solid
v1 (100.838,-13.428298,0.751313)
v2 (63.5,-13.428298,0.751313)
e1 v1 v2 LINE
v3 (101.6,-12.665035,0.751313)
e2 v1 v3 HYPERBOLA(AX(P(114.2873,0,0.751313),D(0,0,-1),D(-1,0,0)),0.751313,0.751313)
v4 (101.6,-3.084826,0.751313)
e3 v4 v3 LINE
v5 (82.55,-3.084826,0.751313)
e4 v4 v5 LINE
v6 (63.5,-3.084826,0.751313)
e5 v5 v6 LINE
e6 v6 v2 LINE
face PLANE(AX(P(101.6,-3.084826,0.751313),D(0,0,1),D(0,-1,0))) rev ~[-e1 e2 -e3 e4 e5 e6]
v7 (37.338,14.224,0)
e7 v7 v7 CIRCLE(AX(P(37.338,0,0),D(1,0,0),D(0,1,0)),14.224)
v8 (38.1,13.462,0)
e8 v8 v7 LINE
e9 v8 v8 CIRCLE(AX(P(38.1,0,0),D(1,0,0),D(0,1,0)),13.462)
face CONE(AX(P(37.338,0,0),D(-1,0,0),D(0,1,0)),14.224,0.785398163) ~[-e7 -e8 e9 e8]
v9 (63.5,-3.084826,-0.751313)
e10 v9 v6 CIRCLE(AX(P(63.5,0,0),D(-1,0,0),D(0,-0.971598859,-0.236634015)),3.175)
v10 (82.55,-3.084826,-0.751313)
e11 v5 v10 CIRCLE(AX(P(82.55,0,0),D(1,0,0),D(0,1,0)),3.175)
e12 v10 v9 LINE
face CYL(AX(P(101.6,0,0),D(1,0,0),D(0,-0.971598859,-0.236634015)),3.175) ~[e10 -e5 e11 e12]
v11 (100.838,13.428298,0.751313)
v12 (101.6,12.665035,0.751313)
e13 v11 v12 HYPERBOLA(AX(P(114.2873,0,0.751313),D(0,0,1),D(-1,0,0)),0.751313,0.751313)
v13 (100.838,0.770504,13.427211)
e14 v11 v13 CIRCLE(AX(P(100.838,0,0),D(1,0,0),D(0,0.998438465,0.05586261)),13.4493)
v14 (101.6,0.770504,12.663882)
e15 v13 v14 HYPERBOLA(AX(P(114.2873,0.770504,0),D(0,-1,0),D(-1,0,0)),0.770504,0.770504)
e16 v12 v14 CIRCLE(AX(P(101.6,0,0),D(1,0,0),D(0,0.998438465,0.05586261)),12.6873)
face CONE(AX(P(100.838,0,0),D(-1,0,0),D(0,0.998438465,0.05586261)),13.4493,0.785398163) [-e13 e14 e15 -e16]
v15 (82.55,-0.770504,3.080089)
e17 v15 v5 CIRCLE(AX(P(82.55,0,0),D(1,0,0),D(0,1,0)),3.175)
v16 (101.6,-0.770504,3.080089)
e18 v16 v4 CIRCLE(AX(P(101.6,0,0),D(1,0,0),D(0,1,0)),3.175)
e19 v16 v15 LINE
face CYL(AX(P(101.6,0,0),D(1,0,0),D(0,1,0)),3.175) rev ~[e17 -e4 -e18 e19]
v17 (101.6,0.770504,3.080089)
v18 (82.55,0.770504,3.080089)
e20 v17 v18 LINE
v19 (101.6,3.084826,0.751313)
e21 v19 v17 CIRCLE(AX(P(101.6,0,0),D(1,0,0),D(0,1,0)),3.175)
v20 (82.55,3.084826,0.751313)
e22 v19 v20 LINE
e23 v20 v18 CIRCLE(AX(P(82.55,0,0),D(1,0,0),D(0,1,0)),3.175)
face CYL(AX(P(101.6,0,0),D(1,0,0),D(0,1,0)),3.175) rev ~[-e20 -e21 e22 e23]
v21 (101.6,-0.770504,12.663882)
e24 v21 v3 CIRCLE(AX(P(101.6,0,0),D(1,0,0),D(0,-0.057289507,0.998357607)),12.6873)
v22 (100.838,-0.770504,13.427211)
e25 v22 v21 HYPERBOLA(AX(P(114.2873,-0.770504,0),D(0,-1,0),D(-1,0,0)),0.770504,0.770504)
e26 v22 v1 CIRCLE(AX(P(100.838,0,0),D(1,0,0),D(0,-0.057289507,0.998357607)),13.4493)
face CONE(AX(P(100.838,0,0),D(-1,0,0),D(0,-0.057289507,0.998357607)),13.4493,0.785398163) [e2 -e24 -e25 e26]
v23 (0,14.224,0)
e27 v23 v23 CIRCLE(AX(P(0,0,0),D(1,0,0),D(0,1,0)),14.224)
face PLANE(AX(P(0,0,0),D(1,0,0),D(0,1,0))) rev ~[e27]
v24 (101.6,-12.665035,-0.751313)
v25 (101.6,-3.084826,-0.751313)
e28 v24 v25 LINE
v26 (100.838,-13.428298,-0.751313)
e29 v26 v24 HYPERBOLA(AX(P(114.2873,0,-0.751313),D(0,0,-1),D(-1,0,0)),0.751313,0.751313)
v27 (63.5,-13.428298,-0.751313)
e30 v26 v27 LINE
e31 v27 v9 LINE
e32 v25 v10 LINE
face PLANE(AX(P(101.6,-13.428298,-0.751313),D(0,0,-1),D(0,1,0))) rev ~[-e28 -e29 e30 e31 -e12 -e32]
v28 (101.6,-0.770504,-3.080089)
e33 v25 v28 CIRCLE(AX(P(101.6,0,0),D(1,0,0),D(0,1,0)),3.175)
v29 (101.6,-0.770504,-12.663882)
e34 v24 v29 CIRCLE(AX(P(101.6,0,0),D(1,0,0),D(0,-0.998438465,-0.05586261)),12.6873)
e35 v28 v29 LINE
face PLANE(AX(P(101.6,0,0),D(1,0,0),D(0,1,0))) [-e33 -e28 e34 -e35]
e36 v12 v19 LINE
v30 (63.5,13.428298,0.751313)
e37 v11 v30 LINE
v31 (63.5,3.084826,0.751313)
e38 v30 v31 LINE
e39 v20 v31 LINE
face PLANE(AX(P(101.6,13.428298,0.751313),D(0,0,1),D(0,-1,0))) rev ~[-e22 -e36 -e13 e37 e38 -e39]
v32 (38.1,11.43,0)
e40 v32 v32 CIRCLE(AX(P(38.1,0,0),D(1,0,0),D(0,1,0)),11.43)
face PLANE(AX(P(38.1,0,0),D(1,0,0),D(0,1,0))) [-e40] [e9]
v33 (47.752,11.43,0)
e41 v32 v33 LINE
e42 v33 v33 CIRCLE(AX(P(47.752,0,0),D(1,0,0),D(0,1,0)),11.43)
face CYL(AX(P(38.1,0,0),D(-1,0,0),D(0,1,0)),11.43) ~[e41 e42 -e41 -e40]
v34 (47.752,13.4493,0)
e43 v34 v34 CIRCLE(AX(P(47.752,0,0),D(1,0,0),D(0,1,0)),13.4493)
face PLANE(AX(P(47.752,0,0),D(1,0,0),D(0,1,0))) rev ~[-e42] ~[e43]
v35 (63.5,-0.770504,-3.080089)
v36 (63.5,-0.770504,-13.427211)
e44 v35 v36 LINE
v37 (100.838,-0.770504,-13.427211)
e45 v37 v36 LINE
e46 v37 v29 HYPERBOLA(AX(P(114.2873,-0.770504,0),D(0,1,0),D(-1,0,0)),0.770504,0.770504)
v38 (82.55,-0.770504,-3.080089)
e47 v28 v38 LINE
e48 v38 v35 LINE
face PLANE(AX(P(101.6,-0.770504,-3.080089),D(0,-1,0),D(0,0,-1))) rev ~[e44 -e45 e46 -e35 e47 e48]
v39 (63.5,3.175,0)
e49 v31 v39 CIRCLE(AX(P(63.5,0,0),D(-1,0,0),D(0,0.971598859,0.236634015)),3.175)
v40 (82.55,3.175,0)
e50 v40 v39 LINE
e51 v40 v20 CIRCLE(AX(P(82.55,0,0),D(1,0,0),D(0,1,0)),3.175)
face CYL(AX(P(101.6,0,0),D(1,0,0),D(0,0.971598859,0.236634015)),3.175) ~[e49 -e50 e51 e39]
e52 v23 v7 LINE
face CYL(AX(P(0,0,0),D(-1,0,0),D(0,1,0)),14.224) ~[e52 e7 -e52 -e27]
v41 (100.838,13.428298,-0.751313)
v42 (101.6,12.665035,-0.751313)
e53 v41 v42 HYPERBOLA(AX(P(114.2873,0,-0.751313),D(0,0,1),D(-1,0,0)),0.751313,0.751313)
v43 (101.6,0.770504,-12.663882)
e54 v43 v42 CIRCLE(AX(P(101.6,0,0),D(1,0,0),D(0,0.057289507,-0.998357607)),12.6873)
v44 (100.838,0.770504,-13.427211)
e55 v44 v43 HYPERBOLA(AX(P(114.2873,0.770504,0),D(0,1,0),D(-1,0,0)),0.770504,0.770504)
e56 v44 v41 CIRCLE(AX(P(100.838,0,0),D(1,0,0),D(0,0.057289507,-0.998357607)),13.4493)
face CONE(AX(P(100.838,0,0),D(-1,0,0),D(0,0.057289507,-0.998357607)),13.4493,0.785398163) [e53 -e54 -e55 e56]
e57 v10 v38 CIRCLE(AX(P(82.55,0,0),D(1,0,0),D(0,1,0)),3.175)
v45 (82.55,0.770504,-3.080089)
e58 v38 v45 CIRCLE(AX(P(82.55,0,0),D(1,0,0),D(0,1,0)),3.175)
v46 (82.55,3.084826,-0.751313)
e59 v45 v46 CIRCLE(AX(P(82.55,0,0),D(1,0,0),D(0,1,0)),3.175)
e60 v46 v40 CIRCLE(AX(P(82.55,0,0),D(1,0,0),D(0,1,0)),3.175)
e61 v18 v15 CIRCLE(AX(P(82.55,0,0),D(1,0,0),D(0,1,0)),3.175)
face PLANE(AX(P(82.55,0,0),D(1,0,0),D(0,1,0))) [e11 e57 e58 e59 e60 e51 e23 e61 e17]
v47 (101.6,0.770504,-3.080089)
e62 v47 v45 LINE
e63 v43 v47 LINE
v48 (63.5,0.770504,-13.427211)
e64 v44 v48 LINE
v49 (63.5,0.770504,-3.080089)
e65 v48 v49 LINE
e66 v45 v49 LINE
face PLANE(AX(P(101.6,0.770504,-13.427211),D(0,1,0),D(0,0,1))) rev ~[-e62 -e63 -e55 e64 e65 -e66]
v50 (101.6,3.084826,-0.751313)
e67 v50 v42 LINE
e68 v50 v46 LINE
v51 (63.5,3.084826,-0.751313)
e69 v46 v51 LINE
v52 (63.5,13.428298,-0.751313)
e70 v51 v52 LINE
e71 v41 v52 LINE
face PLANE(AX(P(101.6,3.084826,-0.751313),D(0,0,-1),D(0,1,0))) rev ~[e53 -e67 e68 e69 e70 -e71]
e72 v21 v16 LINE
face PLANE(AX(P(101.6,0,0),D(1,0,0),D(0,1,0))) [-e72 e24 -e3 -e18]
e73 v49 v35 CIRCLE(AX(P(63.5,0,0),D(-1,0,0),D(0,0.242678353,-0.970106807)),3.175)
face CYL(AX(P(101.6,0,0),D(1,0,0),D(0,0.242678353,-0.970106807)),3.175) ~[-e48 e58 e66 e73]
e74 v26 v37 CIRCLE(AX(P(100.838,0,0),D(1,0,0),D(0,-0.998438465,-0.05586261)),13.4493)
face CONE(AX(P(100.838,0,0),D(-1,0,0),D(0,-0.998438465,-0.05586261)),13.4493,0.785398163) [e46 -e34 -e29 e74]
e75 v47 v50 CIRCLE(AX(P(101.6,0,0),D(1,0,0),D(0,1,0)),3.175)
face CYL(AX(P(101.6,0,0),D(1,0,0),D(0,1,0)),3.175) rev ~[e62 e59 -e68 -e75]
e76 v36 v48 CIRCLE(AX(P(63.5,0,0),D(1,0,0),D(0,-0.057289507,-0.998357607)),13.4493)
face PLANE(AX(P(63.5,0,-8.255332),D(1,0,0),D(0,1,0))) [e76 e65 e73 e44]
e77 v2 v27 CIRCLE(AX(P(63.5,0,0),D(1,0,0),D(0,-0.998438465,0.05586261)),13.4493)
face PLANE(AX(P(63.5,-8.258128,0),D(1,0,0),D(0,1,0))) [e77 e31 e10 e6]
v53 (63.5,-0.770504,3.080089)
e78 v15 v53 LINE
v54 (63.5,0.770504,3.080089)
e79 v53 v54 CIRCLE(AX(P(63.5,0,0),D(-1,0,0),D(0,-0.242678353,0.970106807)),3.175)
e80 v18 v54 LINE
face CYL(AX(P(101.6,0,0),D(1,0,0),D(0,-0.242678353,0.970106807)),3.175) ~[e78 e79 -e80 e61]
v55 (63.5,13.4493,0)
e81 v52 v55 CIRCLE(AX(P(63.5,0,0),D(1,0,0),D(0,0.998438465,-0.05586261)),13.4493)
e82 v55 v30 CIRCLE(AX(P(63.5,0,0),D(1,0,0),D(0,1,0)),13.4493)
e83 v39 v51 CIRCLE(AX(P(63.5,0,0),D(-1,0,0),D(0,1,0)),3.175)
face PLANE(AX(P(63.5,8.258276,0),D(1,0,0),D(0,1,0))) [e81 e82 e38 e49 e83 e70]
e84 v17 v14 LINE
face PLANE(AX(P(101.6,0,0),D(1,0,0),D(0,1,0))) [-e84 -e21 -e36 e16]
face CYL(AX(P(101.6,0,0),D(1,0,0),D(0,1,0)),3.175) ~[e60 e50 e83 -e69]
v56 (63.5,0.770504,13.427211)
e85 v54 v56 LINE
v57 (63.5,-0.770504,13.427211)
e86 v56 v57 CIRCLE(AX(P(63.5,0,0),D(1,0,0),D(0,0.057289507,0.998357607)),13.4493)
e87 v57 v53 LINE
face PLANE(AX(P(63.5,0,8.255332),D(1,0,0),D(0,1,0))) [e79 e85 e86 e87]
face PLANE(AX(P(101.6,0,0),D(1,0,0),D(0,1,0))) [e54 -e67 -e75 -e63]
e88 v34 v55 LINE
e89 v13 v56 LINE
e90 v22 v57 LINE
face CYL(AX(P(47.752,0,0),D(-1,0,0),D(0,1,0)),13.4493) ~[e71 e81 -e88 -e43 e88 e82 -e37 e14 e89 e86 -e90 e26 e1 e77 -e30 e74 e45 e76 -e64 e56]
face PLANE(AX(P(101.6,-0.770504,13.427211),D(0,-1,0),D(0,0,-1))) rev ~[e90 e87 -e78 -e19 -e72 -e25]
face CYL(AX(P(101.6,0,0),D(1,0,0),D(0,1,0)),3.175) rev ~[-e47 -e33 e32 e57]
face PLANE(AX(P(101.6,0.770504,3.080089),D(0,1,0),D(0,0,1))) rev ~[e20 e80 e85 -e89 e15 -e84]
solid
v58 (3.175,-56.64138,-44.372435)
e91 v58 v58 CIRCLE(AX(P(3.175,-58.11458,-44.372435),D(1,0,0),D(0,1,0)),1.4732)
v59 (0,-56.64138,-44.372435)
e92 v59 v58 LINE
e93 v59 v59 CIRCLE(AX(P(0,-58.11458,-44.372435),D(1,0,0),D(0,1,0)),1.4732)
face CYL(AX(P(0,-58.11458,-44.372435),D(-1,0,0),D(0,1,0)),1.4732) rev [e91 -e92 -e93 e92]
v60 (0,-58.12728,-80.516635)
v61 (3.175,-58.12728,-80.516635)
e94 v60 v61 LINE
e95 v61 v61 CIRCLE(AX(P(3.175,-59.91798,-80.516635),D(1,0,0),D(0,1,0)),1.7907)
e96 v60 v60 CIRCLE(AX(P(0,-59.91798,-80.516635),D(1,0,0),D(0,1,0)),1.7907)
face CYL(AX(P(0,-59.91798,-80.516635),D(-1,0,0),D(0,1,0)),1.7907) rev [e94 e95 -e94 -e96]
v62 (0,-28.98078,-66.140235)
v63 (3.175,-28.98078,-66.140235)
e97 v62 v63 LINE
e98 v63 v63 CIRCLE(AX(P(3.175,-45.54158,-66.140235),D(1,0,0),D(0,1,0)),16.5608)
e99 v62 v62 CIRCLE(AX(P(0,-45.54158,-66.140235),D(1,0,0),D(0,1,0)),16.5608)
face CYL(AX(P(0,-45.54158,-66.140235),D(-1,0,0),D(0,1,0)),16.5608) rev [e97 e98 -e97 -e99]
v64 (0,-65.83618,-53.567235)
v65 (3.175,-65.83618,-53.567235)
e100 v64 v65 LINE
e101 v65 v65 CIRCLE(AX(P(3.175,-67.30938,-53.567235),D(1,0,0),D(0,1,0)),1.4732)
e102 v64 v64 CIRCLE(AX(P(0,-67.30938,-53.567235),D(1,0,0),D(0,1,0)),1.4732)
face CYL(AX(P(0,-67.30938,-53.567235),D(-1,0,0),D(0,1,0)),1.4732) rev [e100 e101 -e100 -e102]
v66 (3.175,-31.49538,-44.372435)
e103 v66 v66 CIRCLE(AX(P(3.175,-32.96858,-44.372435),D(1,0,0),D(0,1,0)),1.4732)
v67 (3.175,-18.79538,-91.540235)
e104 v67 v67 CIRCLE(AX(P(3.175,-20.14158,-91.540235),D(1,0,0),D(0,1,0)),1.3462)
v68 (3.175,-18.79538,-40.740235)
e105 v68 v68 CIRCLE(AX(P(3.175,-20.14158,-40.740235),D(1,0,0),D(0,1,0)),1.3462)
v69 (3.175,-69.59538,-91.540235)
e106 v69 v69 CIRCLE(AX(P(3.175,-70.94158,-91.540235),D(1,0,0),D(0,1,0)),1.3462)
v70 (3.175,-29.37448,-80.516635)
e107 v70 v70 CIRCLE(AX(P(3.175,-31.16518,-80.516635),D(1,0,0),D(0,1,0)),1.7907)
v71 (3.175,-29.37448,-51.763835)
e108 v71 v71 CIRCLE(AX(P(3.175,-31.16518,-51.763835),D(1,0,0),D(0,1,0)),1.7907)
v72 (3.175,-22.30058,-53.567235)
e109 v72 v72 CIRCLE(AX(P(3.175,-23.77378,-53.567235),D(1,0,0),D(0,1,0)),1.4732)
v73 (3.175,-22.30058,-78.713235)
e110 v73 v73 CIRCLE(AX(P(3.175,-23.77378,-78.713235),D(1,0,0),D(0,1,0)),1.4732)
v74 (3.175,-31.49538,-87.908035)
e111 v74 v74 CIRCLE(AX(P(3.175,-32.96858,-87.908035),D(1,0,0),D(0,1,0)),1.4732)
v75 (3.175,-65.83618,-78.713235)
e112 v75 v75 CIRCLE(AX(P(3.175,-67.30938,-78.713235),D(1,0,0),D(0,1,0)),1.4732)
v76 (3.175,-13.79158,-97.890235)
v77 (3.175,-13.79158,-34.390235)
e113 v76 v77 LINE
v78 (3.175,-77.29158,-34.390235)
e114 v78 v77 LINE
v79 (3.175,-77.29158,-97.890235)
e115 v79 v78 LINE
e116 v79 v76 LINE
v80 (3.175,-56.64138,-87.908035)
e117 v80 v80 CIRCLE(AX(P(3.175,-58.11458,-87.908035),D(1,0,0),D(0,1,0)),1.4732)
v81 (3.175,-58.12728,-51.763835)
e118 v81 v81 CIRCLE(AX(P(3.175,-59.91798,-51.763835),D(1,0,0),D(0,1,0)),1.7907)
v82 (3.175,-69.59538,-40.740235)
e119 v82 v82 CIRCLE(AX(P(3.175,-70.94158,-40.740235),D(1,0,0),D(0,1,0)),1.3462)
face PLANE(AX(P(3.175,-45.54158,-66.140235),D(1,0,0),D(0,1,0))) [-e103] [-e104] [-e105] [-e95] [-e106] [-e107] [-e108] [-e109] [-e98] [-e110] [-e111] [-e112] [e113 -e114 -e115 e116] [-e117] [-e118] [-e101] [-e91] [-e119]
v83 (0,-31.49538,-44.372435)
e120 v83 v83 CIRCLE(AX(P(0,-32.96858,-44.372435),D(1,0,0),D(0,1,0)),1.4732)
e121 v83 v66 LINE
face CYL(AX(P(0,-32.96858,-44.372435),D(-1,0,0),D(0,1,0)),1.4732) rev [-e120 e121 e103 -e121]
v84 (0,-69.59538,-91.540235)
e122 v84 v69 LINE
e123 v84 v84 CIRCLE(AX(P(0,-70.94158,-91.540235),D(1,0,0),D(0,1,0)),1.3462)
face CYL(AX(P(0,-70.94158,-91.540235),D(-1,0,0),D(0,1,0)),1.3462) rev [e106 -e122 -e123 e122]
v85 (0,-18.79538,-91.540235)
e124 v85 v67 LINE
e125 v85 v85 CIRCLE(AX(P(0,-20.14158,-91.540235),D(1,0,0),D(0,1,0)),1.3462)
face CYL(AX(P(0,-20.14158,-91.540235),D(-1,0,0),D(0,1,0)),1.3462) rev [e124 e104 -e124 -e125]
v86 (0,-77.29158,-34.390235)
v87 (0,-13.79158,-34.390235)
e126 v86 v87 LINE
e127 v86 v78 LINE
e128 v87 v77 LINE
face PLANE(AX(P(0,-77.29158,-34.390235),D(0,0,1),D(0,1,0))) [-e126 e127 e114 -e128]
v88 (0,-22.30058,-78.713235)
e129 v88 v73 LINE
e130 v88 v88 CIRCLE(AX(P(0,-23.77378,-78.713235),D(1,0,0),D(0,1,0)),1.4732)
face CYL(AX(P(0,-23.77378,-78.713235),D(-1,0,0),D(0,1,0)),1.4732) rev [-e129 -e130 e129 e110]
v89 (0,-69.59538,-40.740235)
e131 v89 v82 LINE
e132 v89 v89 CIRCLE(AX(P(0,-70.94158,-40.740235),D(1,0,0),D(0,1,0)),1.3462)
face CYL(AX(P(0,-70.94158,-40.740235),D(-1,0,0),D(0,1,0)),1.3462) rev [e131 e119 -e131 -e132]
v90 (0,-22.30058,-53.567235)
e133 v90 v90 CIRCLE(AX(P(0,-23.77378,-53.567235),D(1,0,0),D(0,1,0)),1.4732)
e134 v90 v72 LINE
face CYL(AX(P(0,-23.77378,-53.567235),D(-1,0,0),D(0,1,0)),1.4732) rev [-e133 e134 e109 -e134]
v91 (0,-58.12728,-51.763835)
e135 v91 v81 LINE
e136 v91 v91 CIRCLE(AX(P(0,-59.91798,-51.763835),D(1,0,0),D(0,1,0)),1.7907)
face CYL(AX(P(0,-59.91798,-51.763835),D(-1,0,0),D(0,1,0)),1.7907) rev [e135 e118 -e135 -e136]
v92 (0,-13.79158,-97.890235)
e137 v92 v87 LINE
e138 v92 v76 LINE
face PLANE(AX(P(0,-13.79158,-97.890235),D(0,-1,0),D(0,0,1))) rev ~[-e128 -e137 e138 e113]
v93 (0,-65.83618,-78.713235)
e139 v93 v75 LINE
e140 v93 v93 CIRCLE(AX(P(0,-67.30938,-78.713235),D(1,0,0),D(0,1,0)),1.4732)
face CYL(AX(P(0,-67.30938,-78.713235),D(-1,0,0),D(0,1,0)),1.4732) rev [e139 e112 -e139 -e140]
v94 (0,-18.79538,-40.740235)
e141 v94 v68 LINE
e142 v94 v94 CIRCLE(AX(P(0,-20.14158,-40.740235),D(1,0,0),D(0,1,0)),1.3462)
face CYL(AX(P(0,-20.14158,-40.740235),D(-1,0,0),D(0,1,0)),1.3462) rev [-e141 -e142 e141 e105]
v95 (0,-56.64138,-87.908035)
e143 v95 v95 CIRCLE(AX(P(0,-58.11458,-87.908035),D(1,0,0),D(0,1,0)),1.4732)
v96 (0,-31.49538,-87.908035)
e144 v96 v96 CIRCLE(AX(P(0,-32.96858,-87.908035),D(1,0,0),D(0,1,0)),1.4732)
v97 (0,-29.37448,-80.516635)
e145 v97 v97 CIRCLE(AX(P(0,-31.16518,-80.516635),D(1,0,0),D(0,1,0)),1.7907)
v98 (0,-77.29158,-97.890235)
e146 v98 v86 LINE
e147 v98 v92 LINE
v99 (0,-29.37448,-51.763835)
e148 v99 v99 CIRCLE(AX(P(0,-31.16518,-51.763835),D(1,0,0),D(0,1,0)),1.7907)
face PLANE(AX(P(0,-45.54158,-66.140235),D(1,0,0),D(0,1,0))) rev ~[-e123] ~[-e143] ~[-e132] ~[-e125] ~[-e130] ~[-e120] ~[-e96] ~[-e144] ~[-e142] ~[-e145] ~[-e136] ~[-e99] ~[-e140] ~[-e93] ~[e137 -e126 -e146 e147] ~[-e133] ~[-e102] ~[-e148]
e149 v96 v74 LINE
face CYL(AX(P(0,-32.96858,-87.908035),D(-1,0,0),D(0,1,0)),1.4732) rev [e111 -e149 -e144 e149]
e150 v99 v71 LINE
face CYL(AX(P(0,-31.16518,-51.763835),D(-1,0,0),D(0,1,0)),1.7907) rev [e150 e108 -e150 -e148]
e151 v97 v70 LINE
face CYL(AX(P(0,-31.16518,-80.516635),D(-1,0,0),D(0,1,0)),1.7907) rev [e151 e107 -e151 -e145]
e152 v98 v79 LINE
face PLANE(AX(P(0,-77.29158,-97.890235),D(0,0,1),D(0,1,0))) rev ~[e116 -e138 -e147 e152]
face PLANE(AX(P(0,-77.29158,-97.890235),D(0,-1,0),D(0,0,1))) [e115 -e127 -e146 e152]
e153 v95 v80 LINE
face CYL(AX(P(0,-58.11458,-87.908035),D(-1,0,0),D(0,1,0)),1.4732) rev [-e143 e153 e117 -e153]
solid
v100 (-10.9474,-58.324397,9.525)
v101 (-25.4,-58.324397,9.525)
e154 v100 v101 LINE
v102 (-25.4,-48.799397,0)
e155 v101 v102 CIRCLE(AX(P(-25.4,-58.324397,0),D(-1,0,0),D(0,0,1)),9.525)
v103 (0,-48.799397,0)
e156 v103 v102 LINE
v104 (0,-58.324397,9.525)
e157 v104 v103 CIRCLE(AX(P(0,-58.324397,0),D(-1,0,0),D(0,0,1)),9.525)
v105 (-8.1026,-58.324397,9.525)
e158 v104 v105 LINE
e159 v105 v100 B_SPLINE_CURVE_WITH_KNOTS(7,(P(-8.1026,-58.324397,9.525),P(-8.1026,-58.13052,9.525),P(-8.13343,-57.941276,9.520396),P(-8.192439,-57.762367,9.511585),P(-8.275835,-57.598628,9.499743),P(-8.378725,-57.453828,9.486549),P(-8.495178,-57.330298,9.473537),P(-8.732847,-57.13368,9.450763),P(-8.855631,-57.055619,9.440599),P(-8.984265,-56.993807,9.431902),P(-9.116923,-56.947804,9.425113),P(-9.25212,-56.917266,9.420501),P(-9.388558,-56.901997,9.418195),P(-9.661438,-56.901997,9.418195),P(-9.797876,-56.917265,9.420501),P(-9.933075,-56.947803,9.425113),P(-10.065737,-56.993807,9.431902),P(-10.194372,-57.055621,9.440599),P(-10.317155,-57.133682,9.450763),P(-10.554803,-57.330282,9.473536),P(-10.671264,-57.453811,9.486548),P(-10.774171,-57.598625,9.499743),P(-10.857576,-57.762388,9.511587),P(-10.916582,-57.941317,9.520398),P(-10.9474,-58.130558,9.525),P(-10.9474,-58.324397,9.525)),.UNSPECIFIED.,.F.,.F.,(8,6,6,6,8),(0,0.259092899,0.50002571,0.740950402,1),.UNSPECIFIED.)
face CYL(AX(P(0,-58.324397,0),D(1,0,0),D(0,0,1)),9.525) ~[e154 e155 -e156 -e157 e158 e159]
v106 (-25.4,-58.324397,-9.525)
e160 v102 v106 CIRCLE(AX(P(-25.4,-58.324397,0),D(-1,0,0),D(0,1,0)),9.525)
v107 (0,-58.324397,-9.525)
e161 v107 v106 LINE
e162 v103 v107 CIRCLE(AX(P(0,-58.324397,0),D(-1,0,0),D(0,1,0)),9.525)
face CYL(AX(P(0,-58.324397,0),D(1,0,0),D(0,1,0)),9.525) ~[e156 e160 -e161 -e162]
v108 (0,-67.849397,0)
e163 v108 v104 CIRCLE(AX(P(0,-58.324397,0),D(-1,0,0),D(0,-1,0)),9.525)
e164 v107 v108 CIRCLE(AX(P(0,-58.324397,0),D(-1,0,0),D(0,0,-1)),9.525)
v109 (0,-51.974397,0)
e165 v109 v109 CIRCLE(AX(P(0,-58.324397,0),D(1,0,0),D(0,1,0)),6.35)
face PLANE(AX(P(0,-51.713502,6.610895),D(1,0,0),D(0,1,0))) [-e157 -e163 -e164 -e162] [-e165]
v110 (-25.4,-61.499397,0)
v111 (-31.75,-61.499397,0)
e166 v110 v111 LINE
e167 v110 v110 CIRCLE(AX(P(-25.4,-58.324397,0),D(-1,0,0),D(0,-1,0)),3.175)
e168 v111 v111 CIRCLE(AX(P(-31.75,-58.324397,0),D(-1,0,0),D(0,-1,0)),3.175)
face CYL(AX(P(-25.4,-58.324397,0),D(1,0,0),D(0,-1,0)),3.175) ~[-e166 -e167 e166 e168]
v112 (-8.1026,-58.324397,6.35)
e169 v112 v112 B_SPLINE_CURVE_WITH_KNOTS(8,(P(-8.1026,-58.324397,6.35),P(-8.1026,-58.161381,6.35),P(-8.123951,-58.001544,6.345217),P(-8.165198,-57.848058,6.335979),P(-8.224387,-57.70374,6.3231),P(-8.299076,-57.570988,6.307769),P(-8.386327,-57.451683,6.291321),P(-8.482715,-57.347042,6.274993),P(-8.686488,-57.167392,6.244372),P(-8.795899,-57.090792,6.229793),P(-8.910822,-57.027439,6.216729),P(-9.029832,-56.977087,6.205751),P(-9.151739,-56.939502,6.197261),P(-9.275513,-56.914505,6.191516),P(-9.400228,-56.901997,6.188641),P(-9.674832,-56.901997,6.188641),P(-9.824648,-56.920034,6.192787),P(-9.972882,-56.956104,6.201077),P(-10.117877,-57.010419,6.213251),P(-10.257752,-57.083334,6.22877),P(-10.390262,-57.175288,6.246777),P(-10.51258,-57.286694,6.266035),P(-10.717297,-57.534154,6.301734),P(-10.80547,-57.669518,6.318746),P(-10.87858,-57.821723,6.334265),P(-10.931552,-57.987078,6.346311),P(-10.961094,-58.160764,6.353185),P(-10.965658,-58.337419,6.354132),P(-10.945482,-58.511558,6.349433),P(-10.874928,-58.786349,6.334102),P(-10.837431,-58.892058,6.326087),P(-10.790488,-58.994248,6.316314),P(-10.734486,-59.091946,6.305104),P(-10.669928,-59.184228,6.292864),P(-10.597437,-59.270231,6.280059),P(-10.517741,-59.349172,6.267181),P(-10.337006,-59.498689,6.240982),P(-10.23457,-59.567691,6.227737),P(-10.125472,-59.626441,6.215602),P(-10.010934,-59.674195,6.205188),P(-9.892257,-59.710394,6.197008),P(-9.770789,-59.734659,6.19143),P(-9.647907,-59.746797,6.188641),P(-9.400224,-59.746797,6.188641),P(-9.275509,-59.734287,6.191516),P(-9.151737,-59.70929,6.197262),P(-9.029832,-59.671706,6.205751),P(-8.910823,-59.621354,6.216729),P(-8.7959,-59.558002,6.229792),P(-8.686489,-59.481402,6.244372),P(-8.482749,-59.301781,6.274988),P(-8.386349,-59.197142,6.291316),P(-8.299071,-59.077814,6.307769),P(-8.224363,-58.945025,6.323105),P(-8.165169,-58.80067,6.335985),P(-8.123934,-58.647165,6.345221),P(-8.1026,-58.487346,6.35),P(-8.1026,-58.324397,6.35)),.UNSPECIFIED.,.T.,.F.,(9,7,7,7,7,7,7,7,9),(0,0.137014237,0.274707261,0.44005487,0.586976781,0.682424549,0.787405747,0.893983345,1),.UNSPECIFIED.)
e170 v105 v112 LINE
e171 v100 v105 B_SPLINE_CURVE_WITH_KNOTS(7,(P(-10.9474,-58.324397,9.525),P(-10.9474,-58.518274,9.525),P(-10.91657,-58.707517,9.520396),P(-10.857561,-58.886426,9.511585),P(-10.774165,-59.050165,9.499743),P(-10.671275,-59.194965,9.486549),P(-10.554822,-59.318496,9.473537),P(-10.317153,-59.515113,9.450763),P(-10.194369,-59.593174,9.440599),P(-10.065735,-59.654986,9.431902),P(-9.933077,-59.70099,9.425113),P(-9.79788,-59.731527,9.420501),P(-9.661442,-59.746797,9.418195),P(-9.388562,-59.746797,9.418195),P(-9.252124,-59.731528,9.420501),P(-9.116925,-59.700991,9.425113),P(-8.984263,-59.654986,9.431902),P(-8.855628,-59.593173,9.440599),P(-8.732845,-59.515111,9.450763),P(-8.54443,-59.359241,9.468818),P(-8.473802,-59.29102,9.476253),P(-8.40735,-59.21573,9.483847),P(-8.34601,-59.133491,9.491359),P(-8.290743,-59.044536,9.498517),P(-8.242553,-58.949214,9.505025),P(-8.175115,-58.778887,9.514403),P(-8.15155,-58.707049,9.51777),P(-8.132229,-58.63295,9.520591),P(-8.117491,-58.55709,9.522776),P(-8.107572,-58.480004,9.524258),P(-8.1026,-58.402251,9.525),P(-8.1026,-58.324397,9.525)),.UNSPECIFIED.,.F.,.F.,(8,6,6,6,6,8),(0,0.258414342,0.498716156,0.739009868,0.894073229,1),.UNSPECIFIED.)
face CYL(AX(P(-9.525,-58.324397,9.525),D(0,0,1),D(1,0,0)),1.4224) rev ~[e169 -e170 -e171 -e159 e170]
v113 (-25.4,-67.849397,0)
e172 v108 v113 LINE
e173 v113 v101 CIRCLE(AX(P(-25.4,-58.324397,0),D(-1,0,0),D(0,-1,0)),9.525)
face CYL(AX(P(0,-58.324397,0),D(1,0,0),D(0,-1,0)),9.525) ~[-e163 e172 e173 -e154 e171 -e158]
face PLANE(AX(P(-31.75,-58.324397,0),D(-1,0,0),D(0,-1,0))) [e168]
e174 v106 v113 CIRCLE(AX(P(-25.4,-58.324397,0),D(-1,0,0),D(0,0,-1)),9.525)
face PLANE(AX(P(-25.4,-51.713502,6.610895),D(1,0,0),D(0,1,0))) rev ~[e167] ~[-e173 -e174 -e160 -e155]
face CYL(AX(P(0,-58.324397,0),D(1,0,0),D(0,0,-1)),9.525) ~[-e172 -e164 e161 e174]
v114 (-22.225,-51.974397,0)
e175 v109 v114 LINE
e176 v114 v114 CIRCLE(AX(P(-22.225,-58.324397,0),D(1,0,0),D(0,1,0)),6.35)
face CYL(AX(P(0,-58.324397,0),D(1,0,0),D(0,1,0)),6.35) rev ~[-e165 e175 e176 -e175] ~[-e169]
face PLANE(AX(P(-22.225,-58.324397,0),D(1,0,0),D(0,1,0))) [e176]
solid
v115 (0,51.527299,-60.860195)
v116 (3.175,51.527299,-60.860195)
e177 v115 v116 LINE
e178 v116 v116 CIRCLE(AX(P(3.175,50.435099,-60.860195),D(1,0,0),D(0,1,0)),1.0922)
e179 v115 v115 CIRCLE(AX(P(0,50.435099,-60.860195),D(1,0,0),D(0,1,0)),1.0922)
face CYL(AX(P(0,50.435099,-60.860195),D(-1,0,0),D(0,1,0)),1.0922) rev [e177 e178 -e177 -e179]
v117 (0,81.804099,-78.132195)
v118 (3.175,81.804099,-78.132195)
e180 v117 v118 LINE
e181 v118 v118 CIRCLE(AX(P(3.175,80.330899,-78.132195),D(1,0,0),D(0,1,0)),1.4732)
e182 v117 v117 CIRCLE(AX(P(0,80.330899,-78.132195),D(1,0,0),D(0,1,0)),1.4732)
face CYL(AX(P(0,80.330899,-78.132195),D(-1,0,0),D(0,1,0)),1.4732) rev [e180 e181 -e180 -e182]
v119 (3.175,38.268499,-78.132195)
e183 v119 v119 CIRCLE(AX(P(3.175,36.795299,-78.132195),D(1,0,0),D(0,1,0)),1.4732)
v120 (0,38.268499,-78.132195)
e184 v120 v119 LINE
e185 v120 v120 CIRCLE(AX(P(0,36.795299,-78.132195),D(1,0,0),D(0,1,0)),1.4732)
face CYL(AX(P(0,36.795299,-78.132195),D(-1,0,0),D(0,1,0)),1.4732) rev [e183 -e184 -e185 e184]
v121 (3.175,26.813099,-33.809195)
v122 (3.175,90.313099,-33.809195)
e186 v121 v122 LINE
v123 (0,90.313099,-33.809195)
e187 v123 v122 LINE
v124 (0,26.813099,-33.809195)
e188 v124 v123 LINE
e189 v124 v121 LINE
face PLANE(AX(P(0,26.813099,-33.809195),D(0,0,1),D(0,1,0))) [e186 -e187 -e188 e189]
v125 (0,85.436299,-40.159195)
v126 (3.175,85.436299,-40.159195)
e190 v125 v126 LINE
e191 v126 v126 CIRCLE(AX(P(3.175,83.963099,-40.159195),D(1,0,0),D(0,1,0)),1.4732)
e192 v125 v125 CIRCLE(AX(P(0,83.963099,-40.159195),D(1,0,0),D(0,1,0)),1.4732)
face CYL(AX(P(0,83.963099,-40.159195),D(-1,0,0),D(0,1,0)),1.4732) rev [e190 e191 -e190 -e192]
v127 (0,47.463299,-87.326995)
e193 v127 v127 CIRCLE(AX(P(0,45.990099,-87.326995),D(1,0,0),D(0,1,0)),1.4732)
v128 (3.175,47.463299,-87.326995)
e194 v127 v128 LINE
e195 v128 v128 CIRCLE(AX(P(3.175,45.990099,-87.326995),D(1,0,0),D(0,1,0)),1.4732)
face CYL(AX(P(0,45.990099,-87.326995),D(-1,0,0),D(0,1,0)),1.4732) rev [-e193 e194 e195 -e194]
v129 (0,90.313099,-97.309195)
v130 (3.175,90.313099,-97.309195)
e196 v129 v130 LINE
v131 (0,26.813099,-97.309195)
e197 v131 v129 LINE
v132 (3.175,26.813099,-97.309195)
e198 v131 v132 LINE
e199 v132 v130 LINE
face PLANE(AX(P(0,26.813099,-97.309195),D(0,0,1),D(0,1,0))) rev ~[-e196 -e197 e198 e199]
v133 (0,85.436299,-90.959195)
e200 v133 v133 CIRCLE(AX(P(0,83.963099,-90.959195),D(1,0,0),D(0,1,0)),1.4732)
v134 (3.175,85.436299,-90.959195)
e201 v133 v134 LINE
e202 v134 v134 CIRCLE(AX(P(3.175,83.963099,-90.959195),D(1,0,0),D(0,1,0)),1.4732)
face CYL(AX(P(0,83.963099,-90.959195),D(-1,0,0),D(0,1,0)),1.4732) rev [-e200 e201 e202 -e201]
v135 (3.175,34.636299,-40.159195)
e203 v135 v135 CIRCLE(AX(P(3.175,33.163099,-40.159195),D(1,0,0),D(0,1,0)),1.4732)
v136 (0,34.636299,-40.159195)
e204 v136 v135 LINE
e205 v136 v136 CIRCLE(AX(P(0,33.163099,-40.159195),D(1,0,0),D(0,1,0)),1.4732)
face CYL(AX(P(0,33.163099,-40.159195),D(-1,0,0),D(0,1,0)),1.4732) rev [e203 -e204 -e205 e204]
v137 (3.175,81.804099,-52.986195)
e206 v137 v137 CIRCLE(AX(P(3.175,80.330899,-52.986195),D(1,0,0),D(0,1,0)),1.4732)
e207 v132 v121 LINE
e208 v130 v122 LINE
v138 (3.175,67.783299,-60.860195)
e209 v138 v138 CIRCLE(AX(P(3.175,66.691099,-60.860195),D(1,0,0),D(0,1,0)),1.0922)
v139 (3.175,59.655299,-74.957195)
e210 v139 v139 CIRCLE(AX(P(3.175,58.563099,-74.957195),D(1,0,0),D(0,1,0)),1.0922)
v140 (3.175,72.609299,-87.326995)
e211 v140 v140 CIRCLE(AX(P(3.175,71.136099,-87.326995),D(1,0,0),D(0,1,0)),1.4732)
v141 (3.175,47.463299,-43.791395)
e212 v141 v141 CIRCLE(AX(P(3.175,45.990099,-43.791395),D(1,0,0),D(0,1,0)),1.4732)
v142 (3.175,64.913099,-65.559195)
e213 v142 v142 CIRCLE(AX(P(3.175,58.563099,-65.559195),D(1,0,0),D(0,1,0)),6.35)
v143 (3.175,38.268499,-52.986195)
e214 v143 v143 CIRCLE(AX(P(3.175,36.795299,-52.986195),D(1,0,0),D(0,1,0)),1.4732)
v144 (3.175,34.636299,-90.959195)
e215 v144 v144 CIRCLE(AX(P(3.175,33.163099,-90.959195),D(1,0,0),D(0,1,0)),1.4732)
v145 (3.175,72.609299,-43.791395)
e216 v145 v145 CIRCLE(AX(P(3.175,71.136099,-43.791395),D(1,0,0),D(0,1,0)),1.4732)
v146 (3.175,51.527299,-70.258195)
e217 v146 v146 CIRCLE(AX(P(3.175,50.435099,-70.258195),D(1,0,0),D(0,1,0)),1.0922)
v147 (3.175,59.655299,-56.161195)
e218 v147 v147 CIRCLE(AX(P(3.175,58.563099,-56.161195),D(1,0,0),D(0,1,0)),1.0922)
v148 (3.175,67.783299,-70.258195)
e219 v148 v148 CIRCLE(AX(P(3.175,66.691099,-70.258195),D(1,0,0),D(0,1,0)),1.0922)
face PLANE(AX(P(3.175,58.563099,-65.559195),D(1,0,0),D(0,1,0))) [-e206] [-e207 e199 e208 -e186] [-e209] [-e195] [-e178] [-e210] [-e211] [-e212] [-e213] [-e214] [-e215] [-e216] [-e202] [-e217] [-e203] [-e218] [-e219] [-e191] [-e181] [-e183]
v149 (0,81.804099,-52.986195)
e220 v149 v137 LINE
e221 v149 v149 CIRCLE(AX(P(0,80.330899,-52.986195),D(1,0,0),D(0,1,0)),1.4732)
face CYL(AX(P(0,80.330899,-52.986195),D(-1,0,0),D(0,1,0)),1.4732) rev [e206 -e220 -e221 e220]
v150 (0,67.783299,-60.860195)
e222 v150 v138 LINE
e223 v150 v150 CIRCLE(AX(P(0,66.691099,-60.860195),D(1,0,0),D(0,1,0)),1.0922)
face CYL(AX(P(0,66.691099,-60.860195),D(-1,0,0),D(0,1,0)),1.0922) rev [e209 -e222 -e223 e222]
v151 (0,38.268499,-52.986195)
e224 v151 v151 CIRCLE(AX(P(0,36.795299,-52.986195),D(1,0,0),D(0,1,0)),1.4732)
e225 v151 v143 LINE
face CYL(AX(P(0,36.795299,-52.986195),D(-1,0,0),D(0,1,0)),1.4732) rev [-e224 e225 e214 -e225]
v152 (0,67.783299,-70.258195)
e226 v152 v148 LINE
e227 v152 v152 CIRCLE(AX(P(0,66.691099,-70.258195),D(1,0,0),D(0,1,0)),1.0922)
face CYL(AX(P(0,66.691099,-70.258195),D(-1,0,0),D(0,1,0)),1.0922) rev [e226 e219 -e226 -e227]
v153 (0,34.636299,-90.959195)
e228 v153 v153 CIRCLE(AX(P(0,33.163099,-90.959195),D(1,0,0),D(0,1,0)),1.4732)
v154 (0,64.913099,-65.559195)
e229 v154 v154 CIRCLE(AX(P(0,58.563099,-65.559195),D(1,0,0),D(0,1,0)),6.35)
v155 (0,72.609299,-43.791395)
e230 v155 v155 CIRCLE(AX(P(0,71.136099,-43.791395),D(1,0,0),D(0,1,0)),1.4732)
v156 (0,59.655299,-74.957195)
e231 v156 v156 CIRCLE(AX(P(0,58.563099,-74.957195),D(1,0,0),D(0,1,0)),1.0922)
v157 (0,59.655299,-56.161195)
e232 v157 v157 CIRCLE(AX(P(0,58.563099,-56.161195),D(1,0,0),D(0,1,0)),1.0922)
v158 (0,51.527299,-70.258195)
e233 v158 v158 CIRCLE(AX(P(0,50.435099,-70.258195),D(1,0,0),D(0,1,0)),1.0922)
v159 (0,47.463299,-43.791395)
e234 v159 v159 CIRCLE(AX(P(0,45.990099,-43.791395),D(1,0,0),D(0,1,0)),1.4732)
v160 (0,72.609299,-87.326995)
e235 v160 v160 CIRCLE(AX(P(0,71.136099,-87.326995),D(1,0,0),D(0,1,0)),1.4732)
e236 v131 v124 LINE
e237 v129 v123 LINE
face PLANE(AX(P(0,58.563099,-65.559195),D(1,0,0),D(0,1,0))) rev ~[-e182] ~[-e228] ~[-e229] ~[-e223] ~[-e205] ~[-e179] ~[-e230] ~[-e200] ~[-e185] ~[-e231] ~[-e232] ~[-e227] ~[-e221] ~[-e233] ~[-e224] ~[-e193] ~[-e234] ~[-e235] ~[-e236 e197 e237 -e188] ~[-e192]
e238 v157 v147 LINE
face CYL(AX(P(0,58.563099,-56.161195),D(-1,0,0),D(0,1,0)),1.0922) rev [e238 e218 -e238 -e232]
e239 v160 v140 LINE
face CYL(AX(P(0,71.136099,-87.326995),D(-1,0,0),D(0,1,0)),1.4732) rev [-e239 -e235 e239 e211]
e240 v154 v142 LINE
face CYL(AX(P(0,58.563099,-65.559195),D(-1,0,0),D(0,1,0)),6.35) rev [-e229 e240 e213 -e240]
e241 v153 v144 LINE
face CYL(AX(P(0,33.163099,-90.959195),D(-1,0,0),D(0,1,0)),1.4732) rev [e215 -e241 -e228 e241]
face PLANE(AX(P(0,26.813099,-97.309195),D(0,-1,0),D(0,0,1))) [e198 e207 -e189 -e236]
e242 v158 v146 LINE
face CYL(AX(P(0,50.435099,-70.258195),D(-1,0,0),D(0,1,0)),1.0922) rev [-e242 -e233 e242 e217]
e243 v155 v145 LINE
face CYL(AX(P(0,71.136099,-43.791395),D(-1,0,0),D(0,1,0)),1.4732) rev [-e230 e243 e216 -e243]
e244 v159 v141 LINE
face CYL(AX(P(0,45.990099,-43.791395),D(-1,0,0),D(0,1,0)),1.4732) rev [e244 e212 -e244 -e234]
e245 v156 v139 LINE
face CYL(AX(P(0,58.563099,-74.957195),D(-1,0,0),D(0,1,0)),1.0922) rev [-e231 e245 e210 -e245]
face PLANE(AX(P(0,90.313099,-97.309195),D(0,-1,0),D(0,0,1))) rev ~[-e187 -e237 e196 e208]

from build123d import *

# Parameters (mm, degrees)
F0_R      = 14.224
F1_DEPTH  = 38.1
F2_R      = 11.43
F3_DEPTH  = 9.652
F4_R      = 13.4493
F4_R_2    = 11.43
F5_DEPTH  = 53.848
F6_R      = 3.175
F7_DEPTH  = 19.05
F9_DEPTH  = 38.1
F10_SIZE  = 0.762
F12_DEPTH = 25.4
F13_R     = 1.4224
F14_DEPTH = 9.525
F15_DEPTH = 25.4
F16_R     = 6.35
F17_DEPTH = 22.225
F18_R     = 3.175
F19_DEPTH = 6.35
F20_W     = 63.5
F20_H     = 63.5
F20_R     = 1.3462
F20_R_2   = 1.4732
F20_R_3   = 1.7907
F20_R_4   = 16.5608
F21_DEPTH = 3.175
F22_W     = 63.5
F22_H     = 63.5
F22_R     = 1.4732
F22_R_2   = 1.0922
F22_R_3   = 6.35
F23_DEPTH = 3.175


with BuildPart() as f1:
    # F0 (on Right) → F1 (new body)
    with BuildSketch(Plane.YZ):
        Circle(F0_R)
    extrude(amount=F1_DEPTH)

    # F2 (on face) → F3 (join)
    with BuildSketch(Plane.YZ.offset(38.1)):
        Circle(F2_R)
    extrude(amount=F3_DEPTH)

    # F4 (on face) → F5 (join)
    with BuildSketch(Plane.YZ.offset(47.752)):
        Circle(F4_R)
        Circle(F4_R_2, mode=Mode.SUBTRACT)
        Circle(F4_R_2)
    extrude(amount=F5_DEPTH)

    # F6 (on face) → F7 (cut)
    with BuildSketch(Plane.YZ.offset(101.6)):
        Circle(F6_R)
    extrude(amount=-F7_DEPTH, mode=Mode.SUBTRACT)

    # F8 (on face) → F9 (cut)
    with BuildSketch(Plane.YZ.offset(101.6)):
        with BuildLine():
            ThreePointArc((-0.7705037715, 3.080089112), (0, 3.175), (0.7705037715, 3.080089112))
            Line((0.7705037715, 3.080089112), (0.7705037715, 13.4272109698))
            ThreePointArc((0.7705037715, 13.4272109698), (0, 13.4493), (-0.7705037715, 13.4272109698))
            Line((-0.7705037715, 13.4272109698), (-0.7705037715, 3.080089112))
        make_face()
        with BuildLine():
            Line((13.4282984503, 0.7513129967), (3.0848263778, 0.7513129967))
            ThreePointArc((3.0848263778, 0.7513129967), (3.1523759888, 0.3783525146), (3.175, 0))
            ThreePointArc((3.175, 0), (3.1523759888, -0.3783525146), (3.0848263778, -0.7513129967))
            Line((3.0848263778, -0.7513129967), (13.4282984503, -0.7513129967))
            ThreePointArc((13.4282984503, -0.7513129967), (13.4440485873, -0.3758032345), (13.4493, 0))
            ThreePointArc((13.4493, 0), (13.4440485873, 0.3758032345), (13.4282984503, 0.7513129967))
        make_face()
        with BuildLine():
            ThreePointArc((-3.0848263778, -0.7513129967), (-3.175, 0), (-3.0848263778, 0.7513129967))
            Line((-3.0848263778, 0.7513129967), (-13.4282984503, 0.7513129967))
            ThreePointArc((-13.4282984503, 0.7513129967), (-13.4493, 0), (-13.4282984503, -0.7513129967))
            Line((-13.4282984503, -0.7513129967), (-3.0848263778, -0.7513129967))
        make_face()
        with BuildLine():
            Line((0.7705037715, -13.4272109698), (0.7705037715, -3.080089112))
            ThreePointArc((0.7705037715, -3.080089112), (0, -3.175), (-0.7705037715, -3.080089112))
            Line((-0.7705037715, -3.080089112), (-0.7705037715, -13.4272109698))
            ThreePointArc((-0.7705037715, -13.4272109698), (0, -13.4493), (0.7705037715, -13.4272109698))
        make_face()
    extrude(amount=-F9_DEPTH, mode=Mode.SUBTRACT)

    # F10
    f10_edges = [f1.edges().sort_by_distance(p)[0] for p in [
        (101.6, -9.516885, 9.503293),
        (101.6, 9.516885, 9.503293),
        (101.6, 9.516885, -9.503293),
        (101.6, -9.516885, -9.503293),
        (38.1, -14.224, 0),
    ]]
    chamfer(f10_edges, length=F10_SIZE)


with BuildPart() as f12:
    # F11 (on Right) → F12 (new body)
    with BuildSketch(Plane.YZ):
        with BuildLine():
            Line((-48.7993966103, 0), (-48.7993966103, 9.525))
            Line((-48.7993966103, 9.525), (-58.3243966103, 9.525))
            ThreePointArc((-58.3243966103, 9.525), (-51.5892045195, 6.7351920908), (-48.7993966103, 0))
        make_face()
        with BuildLine():
            ThreePointArc((-48.7993966103, 0), (-51.5892045195, 6.7351920908), (-58.3243966103, 9.525))
            ThreePointArc((-58.3243966103, 9.525), (-65.0595887011, 6.7351920908), (-67.8493966103, 0))
            ThreePointArc((-67.8493966103, 0), (-65.0595887011, -6.7351920908), (-58.3243966103, -9.525))
            ThreePointArc((-58.3243966103, -9.525), (-51.5892045195, -6.7351920908), (-48.7993966103, 0))
        make_face()
        with BuildLine():
            Line((-48.7993966103, -9.525), (-48.7993966103, 0))
            ThreePointArc((-48.7993966103, 0), (-51.5892045195, -6.7351920908), (-58.3243966103, -9.525))
            Line((-58.3243966103, -9.525), (-48.7993966103, -9.525))
        make_face()
        with BuildLine():
            ThreePointArc((-67.8493966103, 0), (-65.0595887011, 6.7351920908), (-58.3243966103, 9.525))
            Line((-58.3243966103, 9.525), (-67.8493966103, 9.525))
            Line((-67.8493966103, 9.525), (-67.8493966103, 0))
        make_face()
        with BuildLine():
            ThreePointArc((-58.3243966103, -9.525), (-65.0595887011, -6.7351920908), (-67.8493966103, 0))
            Line((-67.8493966103, 0), (-67.8493966103, -9.525))
            Line((-67.8493966103, -9.525), (-58.3243966103, -9.525))
        make_face()
    extrude(amount=-F12_DEPTH)

    # F13 (on face) → F14 (cut)
    with BuildSketch(Plane.XY.offset(9.525)):
        with Locations((-9.525, -58.3243966103)):
            Circle(F13_R)
    extrude(amount=-F14_DEPTH, mode=Mode.SUBTRACT)

    # F11 (on Right) → F15 (cut)
    with BuildSketch(Plane.YZ):
        with BuildLine():
            ThreePointArc((-67.8493966103, 0), (-65.0595887011, 6.7351920908), (-58.3243966103, 9.525))
            Line((-58.3243966103, 9.525), (-67.8493966103, 9.525))
            Line((-67.8493966103, 9.525), (-67.8493966103, 0))
        make_face()
        with BuildLine():
            Line((-48.7993966103, 0), (-48.7993966103, 9.525))
            Line((-48.7993966103, 9.525), (-58.3243966103, 9.525))
            ThreePointArc((-58.3243966103, 9.525), (-51.5892045195, 6.7351920908), (-48.7993966103, 0))
        make_face()
        with BuildLine():
            Line((-48.7993966103, -9.525), (-48.7993966103, 0))
            ThreePointArc((-48.7993966103, 0), (-51.5892045195, -6.7351920908), (-58.3243966103, -9.525))
            Line((-58.3243966103, -9.525), (-48.7993966103, -9.525))
        make_face()
        with BuildLine():
            ThreePointArc((-58.3243966103, -9.525), (-65.0595887011, -6.7351920908), (-67.8493966103, 0))
            Line((-67.8493966103, 0), (-67.8493966103, -9.525))
            Line((-67.8493966103, -9.525), (-58.3243966103, -9.525))
        make_face()
    extrude(amount=-F15_DEPTH, mode=Mode.SUBTRACT)

    # F16 (on face) → F17 (cut)
    with BuildSketch(Plane.YZ):
        with Locations((-58.3243966103, 0)):
            Circle(F16_R)
    extrude(amount=-F17_DEPTH, mode=Mode.SUBTRACT)

    # F18 (on face) → F19 (join)
    with BuildSketch(Plane(origin=(-25.4, 0, 0), x_dir=(0, -1, 0), z_dir=(-1, 0, 0))):
        with Locations((58.3243966103, 0)):
            Circle(F18_R)
    extrude(amount=F19_DEPTH)


with BuildPart() as f21:
    # F20 (on Right) → F21 (new body)
    with BuildSketch(Plane.YZ):
        with Locations((-45.5415797532, -66.1402354836)):
            Rectangle(F20_W, F20_H)
        with Locations((-70.9415797532, -91.5402354836)):
            Circle(F20_R, mode=Mode.SUBTRACT)
        with Locations((-58.1145797532, -87.9080354836)):
            Circle(F20_R_2, mode=Mode.SUBTRACT)
        with Locations((-67.3093797532, -78.7132354836)):
            Circle(F20_R_2, mode=Mode.SUBTRACT)
        with Locations((-59.9179797532, -80.5166354836)):
            Circle(F20_R_3, mode=Mode.SUBTRACT)
        with Locations((-32.9685797532, -87.9080354836)):
            Circle(F20_R_2, mode=Mode.SUBTRACT)
        with Locations((-20.1415797532, -91.5402354836)):
            Circle(F20_R, mode=Mode.SUBTRACT)
        with Locations((-31.1651797532, -80.5166354836)):
            Circle(F20_R_3, mode=Mode.SUBTRACT)
        with Locations((-23.7737797532, -78.7132354836)):
            Circle(F20_R_2, mode=Mode.SUBTRACT)
        with Locations((-67.3093797532, -53.5672354836)):
            Circle(F20_R_2, mode=Mode.SUBTRACT)
        with Locations((-59.9179797532, -51.7638354836)):
            Circle(F20_R_3, mode=Mode.SUBTRACT)
        with Locations((-70.9415797532, -40.7402354836)):
            Circle(F20_R, mode=Mode.SUBTRACT)
        with Locations((-58.1145797532, -44.3724354836)):
            Circle(F20_R_2, mode=Mode.SUBTRACT)
        with Locations((-45.5415797532, -66.1402354836)):
            Circle(F20_R_4, mode=Mode.SUBTRACT)
        with Locations((-31.1651797532, -51.7638354836)):
            Circle(F20_R_3, mode=Mode.SUBTRACT)
        with Locations((-23.7737797532, -53.5672354836)):
            Circle(F20_R_2, mode=Mode.SUBTRACT)
        with Locations((-32.9685797532, -44.3724354836)):
            Circle(F20_R_2, mode=Mode.SUBTRACT)
        with Locations((-20.1415797532, -40.7402354836)):
            Circle(F20_R, mode=Mode.SUBTRACT)
    extrude(amount=F21_DEPTH)


with BuildPart() as f23:
    # F22 (on Right) → F23 (new body)
    with BuildSketch(Plane.YZ):
        with Locations((58.5630993247, -65.5591945052)):
            Rectangle(F22_W, F22_H)
        with Locations((33.1630993247, -90.9591945052)):
            Circle(F22_R, mode=Mode.SUBTRACT)
        with Locations((45.9900993247, -87.3269945052)):
            Circle(F22_R, mode=Mode.SUBTRACT)
        with Locations((36.7952993247, -78.1321945052)):
            Circle(F22_R, mode=Mode.SUBTRACT)
        with Locations((50.4350993247, -70.2581945052)):
            Circle(F22_R_2, mode=Mode.SUBTRACT)
        with Locations((71.1360993247, -87.3269945052)):
            Circle(F22_R, mode=Mode.SUBTRACT)
        with Locations((83.9630993247, -90.9591945052)):
            Circle(F22_R, mode=Mode.SUBTRACT)
        with Locations((58.5630993247, -74.9571945052)):
            Circle(F22_R_2, mode=Mode.SUBTRACT)
        with Locations((66.6910993247, -70.2581945052)):
            Circle(F22_R_2, mode=Mode.SUBTRACT)
        with Locations((80.3308993247, -78.1321945052)):
            Circle(F22_R, mode=Mode.SUBTRACT)
        with Locations((36.7952993247, -52.9861945052)):
            Circle(F22_R, mode=Mode.SUBTRACT)
        with Locations((50.4350993247, -60.8601945052)):
            Circle(F22_R_2, mode=Mode.SUBTRACT)
        with Locations((33.1630993247, -40.1591945052)):
            Circle(F22_R, mode=Mode.SUBTRACT)
        with Locations((45.9900993247, -43.7913945052)):
            Circle(F22_R, mode=Mode.SUBTRACT)
        with Locations((58.5630993247, -65.5591945052)):
            Circle(F22_R_3, mode=Mode.SUBTRACT)
        with Locations((66.6910993247, -60.8601945052)):
            Circle(F22_R_2, mode=Mode.SUBTRACT)
        with Locations((58.5630993247, -56.1611945052)):
            Circle(F22_R_2, mode=Mode.SUBTRACT)
        with Locations((80.3308993247, -52.9861945052)):
            Circle(F22_R, mode=Mode.SUBTRACT)
        with Locations((71.1360993247, -43.7913945052)):
            Circle(F22_R, mode=Mode.SUBTRACT)
        with Locations((83.9630993247, -40.1591945052)):
            Circle(F22_R, mode=Mode.SUBTRACT)
    extrude(amount=F23_DEPTH)


solid = Compound([f1.part, f12.part, f21.part, f23.part])
